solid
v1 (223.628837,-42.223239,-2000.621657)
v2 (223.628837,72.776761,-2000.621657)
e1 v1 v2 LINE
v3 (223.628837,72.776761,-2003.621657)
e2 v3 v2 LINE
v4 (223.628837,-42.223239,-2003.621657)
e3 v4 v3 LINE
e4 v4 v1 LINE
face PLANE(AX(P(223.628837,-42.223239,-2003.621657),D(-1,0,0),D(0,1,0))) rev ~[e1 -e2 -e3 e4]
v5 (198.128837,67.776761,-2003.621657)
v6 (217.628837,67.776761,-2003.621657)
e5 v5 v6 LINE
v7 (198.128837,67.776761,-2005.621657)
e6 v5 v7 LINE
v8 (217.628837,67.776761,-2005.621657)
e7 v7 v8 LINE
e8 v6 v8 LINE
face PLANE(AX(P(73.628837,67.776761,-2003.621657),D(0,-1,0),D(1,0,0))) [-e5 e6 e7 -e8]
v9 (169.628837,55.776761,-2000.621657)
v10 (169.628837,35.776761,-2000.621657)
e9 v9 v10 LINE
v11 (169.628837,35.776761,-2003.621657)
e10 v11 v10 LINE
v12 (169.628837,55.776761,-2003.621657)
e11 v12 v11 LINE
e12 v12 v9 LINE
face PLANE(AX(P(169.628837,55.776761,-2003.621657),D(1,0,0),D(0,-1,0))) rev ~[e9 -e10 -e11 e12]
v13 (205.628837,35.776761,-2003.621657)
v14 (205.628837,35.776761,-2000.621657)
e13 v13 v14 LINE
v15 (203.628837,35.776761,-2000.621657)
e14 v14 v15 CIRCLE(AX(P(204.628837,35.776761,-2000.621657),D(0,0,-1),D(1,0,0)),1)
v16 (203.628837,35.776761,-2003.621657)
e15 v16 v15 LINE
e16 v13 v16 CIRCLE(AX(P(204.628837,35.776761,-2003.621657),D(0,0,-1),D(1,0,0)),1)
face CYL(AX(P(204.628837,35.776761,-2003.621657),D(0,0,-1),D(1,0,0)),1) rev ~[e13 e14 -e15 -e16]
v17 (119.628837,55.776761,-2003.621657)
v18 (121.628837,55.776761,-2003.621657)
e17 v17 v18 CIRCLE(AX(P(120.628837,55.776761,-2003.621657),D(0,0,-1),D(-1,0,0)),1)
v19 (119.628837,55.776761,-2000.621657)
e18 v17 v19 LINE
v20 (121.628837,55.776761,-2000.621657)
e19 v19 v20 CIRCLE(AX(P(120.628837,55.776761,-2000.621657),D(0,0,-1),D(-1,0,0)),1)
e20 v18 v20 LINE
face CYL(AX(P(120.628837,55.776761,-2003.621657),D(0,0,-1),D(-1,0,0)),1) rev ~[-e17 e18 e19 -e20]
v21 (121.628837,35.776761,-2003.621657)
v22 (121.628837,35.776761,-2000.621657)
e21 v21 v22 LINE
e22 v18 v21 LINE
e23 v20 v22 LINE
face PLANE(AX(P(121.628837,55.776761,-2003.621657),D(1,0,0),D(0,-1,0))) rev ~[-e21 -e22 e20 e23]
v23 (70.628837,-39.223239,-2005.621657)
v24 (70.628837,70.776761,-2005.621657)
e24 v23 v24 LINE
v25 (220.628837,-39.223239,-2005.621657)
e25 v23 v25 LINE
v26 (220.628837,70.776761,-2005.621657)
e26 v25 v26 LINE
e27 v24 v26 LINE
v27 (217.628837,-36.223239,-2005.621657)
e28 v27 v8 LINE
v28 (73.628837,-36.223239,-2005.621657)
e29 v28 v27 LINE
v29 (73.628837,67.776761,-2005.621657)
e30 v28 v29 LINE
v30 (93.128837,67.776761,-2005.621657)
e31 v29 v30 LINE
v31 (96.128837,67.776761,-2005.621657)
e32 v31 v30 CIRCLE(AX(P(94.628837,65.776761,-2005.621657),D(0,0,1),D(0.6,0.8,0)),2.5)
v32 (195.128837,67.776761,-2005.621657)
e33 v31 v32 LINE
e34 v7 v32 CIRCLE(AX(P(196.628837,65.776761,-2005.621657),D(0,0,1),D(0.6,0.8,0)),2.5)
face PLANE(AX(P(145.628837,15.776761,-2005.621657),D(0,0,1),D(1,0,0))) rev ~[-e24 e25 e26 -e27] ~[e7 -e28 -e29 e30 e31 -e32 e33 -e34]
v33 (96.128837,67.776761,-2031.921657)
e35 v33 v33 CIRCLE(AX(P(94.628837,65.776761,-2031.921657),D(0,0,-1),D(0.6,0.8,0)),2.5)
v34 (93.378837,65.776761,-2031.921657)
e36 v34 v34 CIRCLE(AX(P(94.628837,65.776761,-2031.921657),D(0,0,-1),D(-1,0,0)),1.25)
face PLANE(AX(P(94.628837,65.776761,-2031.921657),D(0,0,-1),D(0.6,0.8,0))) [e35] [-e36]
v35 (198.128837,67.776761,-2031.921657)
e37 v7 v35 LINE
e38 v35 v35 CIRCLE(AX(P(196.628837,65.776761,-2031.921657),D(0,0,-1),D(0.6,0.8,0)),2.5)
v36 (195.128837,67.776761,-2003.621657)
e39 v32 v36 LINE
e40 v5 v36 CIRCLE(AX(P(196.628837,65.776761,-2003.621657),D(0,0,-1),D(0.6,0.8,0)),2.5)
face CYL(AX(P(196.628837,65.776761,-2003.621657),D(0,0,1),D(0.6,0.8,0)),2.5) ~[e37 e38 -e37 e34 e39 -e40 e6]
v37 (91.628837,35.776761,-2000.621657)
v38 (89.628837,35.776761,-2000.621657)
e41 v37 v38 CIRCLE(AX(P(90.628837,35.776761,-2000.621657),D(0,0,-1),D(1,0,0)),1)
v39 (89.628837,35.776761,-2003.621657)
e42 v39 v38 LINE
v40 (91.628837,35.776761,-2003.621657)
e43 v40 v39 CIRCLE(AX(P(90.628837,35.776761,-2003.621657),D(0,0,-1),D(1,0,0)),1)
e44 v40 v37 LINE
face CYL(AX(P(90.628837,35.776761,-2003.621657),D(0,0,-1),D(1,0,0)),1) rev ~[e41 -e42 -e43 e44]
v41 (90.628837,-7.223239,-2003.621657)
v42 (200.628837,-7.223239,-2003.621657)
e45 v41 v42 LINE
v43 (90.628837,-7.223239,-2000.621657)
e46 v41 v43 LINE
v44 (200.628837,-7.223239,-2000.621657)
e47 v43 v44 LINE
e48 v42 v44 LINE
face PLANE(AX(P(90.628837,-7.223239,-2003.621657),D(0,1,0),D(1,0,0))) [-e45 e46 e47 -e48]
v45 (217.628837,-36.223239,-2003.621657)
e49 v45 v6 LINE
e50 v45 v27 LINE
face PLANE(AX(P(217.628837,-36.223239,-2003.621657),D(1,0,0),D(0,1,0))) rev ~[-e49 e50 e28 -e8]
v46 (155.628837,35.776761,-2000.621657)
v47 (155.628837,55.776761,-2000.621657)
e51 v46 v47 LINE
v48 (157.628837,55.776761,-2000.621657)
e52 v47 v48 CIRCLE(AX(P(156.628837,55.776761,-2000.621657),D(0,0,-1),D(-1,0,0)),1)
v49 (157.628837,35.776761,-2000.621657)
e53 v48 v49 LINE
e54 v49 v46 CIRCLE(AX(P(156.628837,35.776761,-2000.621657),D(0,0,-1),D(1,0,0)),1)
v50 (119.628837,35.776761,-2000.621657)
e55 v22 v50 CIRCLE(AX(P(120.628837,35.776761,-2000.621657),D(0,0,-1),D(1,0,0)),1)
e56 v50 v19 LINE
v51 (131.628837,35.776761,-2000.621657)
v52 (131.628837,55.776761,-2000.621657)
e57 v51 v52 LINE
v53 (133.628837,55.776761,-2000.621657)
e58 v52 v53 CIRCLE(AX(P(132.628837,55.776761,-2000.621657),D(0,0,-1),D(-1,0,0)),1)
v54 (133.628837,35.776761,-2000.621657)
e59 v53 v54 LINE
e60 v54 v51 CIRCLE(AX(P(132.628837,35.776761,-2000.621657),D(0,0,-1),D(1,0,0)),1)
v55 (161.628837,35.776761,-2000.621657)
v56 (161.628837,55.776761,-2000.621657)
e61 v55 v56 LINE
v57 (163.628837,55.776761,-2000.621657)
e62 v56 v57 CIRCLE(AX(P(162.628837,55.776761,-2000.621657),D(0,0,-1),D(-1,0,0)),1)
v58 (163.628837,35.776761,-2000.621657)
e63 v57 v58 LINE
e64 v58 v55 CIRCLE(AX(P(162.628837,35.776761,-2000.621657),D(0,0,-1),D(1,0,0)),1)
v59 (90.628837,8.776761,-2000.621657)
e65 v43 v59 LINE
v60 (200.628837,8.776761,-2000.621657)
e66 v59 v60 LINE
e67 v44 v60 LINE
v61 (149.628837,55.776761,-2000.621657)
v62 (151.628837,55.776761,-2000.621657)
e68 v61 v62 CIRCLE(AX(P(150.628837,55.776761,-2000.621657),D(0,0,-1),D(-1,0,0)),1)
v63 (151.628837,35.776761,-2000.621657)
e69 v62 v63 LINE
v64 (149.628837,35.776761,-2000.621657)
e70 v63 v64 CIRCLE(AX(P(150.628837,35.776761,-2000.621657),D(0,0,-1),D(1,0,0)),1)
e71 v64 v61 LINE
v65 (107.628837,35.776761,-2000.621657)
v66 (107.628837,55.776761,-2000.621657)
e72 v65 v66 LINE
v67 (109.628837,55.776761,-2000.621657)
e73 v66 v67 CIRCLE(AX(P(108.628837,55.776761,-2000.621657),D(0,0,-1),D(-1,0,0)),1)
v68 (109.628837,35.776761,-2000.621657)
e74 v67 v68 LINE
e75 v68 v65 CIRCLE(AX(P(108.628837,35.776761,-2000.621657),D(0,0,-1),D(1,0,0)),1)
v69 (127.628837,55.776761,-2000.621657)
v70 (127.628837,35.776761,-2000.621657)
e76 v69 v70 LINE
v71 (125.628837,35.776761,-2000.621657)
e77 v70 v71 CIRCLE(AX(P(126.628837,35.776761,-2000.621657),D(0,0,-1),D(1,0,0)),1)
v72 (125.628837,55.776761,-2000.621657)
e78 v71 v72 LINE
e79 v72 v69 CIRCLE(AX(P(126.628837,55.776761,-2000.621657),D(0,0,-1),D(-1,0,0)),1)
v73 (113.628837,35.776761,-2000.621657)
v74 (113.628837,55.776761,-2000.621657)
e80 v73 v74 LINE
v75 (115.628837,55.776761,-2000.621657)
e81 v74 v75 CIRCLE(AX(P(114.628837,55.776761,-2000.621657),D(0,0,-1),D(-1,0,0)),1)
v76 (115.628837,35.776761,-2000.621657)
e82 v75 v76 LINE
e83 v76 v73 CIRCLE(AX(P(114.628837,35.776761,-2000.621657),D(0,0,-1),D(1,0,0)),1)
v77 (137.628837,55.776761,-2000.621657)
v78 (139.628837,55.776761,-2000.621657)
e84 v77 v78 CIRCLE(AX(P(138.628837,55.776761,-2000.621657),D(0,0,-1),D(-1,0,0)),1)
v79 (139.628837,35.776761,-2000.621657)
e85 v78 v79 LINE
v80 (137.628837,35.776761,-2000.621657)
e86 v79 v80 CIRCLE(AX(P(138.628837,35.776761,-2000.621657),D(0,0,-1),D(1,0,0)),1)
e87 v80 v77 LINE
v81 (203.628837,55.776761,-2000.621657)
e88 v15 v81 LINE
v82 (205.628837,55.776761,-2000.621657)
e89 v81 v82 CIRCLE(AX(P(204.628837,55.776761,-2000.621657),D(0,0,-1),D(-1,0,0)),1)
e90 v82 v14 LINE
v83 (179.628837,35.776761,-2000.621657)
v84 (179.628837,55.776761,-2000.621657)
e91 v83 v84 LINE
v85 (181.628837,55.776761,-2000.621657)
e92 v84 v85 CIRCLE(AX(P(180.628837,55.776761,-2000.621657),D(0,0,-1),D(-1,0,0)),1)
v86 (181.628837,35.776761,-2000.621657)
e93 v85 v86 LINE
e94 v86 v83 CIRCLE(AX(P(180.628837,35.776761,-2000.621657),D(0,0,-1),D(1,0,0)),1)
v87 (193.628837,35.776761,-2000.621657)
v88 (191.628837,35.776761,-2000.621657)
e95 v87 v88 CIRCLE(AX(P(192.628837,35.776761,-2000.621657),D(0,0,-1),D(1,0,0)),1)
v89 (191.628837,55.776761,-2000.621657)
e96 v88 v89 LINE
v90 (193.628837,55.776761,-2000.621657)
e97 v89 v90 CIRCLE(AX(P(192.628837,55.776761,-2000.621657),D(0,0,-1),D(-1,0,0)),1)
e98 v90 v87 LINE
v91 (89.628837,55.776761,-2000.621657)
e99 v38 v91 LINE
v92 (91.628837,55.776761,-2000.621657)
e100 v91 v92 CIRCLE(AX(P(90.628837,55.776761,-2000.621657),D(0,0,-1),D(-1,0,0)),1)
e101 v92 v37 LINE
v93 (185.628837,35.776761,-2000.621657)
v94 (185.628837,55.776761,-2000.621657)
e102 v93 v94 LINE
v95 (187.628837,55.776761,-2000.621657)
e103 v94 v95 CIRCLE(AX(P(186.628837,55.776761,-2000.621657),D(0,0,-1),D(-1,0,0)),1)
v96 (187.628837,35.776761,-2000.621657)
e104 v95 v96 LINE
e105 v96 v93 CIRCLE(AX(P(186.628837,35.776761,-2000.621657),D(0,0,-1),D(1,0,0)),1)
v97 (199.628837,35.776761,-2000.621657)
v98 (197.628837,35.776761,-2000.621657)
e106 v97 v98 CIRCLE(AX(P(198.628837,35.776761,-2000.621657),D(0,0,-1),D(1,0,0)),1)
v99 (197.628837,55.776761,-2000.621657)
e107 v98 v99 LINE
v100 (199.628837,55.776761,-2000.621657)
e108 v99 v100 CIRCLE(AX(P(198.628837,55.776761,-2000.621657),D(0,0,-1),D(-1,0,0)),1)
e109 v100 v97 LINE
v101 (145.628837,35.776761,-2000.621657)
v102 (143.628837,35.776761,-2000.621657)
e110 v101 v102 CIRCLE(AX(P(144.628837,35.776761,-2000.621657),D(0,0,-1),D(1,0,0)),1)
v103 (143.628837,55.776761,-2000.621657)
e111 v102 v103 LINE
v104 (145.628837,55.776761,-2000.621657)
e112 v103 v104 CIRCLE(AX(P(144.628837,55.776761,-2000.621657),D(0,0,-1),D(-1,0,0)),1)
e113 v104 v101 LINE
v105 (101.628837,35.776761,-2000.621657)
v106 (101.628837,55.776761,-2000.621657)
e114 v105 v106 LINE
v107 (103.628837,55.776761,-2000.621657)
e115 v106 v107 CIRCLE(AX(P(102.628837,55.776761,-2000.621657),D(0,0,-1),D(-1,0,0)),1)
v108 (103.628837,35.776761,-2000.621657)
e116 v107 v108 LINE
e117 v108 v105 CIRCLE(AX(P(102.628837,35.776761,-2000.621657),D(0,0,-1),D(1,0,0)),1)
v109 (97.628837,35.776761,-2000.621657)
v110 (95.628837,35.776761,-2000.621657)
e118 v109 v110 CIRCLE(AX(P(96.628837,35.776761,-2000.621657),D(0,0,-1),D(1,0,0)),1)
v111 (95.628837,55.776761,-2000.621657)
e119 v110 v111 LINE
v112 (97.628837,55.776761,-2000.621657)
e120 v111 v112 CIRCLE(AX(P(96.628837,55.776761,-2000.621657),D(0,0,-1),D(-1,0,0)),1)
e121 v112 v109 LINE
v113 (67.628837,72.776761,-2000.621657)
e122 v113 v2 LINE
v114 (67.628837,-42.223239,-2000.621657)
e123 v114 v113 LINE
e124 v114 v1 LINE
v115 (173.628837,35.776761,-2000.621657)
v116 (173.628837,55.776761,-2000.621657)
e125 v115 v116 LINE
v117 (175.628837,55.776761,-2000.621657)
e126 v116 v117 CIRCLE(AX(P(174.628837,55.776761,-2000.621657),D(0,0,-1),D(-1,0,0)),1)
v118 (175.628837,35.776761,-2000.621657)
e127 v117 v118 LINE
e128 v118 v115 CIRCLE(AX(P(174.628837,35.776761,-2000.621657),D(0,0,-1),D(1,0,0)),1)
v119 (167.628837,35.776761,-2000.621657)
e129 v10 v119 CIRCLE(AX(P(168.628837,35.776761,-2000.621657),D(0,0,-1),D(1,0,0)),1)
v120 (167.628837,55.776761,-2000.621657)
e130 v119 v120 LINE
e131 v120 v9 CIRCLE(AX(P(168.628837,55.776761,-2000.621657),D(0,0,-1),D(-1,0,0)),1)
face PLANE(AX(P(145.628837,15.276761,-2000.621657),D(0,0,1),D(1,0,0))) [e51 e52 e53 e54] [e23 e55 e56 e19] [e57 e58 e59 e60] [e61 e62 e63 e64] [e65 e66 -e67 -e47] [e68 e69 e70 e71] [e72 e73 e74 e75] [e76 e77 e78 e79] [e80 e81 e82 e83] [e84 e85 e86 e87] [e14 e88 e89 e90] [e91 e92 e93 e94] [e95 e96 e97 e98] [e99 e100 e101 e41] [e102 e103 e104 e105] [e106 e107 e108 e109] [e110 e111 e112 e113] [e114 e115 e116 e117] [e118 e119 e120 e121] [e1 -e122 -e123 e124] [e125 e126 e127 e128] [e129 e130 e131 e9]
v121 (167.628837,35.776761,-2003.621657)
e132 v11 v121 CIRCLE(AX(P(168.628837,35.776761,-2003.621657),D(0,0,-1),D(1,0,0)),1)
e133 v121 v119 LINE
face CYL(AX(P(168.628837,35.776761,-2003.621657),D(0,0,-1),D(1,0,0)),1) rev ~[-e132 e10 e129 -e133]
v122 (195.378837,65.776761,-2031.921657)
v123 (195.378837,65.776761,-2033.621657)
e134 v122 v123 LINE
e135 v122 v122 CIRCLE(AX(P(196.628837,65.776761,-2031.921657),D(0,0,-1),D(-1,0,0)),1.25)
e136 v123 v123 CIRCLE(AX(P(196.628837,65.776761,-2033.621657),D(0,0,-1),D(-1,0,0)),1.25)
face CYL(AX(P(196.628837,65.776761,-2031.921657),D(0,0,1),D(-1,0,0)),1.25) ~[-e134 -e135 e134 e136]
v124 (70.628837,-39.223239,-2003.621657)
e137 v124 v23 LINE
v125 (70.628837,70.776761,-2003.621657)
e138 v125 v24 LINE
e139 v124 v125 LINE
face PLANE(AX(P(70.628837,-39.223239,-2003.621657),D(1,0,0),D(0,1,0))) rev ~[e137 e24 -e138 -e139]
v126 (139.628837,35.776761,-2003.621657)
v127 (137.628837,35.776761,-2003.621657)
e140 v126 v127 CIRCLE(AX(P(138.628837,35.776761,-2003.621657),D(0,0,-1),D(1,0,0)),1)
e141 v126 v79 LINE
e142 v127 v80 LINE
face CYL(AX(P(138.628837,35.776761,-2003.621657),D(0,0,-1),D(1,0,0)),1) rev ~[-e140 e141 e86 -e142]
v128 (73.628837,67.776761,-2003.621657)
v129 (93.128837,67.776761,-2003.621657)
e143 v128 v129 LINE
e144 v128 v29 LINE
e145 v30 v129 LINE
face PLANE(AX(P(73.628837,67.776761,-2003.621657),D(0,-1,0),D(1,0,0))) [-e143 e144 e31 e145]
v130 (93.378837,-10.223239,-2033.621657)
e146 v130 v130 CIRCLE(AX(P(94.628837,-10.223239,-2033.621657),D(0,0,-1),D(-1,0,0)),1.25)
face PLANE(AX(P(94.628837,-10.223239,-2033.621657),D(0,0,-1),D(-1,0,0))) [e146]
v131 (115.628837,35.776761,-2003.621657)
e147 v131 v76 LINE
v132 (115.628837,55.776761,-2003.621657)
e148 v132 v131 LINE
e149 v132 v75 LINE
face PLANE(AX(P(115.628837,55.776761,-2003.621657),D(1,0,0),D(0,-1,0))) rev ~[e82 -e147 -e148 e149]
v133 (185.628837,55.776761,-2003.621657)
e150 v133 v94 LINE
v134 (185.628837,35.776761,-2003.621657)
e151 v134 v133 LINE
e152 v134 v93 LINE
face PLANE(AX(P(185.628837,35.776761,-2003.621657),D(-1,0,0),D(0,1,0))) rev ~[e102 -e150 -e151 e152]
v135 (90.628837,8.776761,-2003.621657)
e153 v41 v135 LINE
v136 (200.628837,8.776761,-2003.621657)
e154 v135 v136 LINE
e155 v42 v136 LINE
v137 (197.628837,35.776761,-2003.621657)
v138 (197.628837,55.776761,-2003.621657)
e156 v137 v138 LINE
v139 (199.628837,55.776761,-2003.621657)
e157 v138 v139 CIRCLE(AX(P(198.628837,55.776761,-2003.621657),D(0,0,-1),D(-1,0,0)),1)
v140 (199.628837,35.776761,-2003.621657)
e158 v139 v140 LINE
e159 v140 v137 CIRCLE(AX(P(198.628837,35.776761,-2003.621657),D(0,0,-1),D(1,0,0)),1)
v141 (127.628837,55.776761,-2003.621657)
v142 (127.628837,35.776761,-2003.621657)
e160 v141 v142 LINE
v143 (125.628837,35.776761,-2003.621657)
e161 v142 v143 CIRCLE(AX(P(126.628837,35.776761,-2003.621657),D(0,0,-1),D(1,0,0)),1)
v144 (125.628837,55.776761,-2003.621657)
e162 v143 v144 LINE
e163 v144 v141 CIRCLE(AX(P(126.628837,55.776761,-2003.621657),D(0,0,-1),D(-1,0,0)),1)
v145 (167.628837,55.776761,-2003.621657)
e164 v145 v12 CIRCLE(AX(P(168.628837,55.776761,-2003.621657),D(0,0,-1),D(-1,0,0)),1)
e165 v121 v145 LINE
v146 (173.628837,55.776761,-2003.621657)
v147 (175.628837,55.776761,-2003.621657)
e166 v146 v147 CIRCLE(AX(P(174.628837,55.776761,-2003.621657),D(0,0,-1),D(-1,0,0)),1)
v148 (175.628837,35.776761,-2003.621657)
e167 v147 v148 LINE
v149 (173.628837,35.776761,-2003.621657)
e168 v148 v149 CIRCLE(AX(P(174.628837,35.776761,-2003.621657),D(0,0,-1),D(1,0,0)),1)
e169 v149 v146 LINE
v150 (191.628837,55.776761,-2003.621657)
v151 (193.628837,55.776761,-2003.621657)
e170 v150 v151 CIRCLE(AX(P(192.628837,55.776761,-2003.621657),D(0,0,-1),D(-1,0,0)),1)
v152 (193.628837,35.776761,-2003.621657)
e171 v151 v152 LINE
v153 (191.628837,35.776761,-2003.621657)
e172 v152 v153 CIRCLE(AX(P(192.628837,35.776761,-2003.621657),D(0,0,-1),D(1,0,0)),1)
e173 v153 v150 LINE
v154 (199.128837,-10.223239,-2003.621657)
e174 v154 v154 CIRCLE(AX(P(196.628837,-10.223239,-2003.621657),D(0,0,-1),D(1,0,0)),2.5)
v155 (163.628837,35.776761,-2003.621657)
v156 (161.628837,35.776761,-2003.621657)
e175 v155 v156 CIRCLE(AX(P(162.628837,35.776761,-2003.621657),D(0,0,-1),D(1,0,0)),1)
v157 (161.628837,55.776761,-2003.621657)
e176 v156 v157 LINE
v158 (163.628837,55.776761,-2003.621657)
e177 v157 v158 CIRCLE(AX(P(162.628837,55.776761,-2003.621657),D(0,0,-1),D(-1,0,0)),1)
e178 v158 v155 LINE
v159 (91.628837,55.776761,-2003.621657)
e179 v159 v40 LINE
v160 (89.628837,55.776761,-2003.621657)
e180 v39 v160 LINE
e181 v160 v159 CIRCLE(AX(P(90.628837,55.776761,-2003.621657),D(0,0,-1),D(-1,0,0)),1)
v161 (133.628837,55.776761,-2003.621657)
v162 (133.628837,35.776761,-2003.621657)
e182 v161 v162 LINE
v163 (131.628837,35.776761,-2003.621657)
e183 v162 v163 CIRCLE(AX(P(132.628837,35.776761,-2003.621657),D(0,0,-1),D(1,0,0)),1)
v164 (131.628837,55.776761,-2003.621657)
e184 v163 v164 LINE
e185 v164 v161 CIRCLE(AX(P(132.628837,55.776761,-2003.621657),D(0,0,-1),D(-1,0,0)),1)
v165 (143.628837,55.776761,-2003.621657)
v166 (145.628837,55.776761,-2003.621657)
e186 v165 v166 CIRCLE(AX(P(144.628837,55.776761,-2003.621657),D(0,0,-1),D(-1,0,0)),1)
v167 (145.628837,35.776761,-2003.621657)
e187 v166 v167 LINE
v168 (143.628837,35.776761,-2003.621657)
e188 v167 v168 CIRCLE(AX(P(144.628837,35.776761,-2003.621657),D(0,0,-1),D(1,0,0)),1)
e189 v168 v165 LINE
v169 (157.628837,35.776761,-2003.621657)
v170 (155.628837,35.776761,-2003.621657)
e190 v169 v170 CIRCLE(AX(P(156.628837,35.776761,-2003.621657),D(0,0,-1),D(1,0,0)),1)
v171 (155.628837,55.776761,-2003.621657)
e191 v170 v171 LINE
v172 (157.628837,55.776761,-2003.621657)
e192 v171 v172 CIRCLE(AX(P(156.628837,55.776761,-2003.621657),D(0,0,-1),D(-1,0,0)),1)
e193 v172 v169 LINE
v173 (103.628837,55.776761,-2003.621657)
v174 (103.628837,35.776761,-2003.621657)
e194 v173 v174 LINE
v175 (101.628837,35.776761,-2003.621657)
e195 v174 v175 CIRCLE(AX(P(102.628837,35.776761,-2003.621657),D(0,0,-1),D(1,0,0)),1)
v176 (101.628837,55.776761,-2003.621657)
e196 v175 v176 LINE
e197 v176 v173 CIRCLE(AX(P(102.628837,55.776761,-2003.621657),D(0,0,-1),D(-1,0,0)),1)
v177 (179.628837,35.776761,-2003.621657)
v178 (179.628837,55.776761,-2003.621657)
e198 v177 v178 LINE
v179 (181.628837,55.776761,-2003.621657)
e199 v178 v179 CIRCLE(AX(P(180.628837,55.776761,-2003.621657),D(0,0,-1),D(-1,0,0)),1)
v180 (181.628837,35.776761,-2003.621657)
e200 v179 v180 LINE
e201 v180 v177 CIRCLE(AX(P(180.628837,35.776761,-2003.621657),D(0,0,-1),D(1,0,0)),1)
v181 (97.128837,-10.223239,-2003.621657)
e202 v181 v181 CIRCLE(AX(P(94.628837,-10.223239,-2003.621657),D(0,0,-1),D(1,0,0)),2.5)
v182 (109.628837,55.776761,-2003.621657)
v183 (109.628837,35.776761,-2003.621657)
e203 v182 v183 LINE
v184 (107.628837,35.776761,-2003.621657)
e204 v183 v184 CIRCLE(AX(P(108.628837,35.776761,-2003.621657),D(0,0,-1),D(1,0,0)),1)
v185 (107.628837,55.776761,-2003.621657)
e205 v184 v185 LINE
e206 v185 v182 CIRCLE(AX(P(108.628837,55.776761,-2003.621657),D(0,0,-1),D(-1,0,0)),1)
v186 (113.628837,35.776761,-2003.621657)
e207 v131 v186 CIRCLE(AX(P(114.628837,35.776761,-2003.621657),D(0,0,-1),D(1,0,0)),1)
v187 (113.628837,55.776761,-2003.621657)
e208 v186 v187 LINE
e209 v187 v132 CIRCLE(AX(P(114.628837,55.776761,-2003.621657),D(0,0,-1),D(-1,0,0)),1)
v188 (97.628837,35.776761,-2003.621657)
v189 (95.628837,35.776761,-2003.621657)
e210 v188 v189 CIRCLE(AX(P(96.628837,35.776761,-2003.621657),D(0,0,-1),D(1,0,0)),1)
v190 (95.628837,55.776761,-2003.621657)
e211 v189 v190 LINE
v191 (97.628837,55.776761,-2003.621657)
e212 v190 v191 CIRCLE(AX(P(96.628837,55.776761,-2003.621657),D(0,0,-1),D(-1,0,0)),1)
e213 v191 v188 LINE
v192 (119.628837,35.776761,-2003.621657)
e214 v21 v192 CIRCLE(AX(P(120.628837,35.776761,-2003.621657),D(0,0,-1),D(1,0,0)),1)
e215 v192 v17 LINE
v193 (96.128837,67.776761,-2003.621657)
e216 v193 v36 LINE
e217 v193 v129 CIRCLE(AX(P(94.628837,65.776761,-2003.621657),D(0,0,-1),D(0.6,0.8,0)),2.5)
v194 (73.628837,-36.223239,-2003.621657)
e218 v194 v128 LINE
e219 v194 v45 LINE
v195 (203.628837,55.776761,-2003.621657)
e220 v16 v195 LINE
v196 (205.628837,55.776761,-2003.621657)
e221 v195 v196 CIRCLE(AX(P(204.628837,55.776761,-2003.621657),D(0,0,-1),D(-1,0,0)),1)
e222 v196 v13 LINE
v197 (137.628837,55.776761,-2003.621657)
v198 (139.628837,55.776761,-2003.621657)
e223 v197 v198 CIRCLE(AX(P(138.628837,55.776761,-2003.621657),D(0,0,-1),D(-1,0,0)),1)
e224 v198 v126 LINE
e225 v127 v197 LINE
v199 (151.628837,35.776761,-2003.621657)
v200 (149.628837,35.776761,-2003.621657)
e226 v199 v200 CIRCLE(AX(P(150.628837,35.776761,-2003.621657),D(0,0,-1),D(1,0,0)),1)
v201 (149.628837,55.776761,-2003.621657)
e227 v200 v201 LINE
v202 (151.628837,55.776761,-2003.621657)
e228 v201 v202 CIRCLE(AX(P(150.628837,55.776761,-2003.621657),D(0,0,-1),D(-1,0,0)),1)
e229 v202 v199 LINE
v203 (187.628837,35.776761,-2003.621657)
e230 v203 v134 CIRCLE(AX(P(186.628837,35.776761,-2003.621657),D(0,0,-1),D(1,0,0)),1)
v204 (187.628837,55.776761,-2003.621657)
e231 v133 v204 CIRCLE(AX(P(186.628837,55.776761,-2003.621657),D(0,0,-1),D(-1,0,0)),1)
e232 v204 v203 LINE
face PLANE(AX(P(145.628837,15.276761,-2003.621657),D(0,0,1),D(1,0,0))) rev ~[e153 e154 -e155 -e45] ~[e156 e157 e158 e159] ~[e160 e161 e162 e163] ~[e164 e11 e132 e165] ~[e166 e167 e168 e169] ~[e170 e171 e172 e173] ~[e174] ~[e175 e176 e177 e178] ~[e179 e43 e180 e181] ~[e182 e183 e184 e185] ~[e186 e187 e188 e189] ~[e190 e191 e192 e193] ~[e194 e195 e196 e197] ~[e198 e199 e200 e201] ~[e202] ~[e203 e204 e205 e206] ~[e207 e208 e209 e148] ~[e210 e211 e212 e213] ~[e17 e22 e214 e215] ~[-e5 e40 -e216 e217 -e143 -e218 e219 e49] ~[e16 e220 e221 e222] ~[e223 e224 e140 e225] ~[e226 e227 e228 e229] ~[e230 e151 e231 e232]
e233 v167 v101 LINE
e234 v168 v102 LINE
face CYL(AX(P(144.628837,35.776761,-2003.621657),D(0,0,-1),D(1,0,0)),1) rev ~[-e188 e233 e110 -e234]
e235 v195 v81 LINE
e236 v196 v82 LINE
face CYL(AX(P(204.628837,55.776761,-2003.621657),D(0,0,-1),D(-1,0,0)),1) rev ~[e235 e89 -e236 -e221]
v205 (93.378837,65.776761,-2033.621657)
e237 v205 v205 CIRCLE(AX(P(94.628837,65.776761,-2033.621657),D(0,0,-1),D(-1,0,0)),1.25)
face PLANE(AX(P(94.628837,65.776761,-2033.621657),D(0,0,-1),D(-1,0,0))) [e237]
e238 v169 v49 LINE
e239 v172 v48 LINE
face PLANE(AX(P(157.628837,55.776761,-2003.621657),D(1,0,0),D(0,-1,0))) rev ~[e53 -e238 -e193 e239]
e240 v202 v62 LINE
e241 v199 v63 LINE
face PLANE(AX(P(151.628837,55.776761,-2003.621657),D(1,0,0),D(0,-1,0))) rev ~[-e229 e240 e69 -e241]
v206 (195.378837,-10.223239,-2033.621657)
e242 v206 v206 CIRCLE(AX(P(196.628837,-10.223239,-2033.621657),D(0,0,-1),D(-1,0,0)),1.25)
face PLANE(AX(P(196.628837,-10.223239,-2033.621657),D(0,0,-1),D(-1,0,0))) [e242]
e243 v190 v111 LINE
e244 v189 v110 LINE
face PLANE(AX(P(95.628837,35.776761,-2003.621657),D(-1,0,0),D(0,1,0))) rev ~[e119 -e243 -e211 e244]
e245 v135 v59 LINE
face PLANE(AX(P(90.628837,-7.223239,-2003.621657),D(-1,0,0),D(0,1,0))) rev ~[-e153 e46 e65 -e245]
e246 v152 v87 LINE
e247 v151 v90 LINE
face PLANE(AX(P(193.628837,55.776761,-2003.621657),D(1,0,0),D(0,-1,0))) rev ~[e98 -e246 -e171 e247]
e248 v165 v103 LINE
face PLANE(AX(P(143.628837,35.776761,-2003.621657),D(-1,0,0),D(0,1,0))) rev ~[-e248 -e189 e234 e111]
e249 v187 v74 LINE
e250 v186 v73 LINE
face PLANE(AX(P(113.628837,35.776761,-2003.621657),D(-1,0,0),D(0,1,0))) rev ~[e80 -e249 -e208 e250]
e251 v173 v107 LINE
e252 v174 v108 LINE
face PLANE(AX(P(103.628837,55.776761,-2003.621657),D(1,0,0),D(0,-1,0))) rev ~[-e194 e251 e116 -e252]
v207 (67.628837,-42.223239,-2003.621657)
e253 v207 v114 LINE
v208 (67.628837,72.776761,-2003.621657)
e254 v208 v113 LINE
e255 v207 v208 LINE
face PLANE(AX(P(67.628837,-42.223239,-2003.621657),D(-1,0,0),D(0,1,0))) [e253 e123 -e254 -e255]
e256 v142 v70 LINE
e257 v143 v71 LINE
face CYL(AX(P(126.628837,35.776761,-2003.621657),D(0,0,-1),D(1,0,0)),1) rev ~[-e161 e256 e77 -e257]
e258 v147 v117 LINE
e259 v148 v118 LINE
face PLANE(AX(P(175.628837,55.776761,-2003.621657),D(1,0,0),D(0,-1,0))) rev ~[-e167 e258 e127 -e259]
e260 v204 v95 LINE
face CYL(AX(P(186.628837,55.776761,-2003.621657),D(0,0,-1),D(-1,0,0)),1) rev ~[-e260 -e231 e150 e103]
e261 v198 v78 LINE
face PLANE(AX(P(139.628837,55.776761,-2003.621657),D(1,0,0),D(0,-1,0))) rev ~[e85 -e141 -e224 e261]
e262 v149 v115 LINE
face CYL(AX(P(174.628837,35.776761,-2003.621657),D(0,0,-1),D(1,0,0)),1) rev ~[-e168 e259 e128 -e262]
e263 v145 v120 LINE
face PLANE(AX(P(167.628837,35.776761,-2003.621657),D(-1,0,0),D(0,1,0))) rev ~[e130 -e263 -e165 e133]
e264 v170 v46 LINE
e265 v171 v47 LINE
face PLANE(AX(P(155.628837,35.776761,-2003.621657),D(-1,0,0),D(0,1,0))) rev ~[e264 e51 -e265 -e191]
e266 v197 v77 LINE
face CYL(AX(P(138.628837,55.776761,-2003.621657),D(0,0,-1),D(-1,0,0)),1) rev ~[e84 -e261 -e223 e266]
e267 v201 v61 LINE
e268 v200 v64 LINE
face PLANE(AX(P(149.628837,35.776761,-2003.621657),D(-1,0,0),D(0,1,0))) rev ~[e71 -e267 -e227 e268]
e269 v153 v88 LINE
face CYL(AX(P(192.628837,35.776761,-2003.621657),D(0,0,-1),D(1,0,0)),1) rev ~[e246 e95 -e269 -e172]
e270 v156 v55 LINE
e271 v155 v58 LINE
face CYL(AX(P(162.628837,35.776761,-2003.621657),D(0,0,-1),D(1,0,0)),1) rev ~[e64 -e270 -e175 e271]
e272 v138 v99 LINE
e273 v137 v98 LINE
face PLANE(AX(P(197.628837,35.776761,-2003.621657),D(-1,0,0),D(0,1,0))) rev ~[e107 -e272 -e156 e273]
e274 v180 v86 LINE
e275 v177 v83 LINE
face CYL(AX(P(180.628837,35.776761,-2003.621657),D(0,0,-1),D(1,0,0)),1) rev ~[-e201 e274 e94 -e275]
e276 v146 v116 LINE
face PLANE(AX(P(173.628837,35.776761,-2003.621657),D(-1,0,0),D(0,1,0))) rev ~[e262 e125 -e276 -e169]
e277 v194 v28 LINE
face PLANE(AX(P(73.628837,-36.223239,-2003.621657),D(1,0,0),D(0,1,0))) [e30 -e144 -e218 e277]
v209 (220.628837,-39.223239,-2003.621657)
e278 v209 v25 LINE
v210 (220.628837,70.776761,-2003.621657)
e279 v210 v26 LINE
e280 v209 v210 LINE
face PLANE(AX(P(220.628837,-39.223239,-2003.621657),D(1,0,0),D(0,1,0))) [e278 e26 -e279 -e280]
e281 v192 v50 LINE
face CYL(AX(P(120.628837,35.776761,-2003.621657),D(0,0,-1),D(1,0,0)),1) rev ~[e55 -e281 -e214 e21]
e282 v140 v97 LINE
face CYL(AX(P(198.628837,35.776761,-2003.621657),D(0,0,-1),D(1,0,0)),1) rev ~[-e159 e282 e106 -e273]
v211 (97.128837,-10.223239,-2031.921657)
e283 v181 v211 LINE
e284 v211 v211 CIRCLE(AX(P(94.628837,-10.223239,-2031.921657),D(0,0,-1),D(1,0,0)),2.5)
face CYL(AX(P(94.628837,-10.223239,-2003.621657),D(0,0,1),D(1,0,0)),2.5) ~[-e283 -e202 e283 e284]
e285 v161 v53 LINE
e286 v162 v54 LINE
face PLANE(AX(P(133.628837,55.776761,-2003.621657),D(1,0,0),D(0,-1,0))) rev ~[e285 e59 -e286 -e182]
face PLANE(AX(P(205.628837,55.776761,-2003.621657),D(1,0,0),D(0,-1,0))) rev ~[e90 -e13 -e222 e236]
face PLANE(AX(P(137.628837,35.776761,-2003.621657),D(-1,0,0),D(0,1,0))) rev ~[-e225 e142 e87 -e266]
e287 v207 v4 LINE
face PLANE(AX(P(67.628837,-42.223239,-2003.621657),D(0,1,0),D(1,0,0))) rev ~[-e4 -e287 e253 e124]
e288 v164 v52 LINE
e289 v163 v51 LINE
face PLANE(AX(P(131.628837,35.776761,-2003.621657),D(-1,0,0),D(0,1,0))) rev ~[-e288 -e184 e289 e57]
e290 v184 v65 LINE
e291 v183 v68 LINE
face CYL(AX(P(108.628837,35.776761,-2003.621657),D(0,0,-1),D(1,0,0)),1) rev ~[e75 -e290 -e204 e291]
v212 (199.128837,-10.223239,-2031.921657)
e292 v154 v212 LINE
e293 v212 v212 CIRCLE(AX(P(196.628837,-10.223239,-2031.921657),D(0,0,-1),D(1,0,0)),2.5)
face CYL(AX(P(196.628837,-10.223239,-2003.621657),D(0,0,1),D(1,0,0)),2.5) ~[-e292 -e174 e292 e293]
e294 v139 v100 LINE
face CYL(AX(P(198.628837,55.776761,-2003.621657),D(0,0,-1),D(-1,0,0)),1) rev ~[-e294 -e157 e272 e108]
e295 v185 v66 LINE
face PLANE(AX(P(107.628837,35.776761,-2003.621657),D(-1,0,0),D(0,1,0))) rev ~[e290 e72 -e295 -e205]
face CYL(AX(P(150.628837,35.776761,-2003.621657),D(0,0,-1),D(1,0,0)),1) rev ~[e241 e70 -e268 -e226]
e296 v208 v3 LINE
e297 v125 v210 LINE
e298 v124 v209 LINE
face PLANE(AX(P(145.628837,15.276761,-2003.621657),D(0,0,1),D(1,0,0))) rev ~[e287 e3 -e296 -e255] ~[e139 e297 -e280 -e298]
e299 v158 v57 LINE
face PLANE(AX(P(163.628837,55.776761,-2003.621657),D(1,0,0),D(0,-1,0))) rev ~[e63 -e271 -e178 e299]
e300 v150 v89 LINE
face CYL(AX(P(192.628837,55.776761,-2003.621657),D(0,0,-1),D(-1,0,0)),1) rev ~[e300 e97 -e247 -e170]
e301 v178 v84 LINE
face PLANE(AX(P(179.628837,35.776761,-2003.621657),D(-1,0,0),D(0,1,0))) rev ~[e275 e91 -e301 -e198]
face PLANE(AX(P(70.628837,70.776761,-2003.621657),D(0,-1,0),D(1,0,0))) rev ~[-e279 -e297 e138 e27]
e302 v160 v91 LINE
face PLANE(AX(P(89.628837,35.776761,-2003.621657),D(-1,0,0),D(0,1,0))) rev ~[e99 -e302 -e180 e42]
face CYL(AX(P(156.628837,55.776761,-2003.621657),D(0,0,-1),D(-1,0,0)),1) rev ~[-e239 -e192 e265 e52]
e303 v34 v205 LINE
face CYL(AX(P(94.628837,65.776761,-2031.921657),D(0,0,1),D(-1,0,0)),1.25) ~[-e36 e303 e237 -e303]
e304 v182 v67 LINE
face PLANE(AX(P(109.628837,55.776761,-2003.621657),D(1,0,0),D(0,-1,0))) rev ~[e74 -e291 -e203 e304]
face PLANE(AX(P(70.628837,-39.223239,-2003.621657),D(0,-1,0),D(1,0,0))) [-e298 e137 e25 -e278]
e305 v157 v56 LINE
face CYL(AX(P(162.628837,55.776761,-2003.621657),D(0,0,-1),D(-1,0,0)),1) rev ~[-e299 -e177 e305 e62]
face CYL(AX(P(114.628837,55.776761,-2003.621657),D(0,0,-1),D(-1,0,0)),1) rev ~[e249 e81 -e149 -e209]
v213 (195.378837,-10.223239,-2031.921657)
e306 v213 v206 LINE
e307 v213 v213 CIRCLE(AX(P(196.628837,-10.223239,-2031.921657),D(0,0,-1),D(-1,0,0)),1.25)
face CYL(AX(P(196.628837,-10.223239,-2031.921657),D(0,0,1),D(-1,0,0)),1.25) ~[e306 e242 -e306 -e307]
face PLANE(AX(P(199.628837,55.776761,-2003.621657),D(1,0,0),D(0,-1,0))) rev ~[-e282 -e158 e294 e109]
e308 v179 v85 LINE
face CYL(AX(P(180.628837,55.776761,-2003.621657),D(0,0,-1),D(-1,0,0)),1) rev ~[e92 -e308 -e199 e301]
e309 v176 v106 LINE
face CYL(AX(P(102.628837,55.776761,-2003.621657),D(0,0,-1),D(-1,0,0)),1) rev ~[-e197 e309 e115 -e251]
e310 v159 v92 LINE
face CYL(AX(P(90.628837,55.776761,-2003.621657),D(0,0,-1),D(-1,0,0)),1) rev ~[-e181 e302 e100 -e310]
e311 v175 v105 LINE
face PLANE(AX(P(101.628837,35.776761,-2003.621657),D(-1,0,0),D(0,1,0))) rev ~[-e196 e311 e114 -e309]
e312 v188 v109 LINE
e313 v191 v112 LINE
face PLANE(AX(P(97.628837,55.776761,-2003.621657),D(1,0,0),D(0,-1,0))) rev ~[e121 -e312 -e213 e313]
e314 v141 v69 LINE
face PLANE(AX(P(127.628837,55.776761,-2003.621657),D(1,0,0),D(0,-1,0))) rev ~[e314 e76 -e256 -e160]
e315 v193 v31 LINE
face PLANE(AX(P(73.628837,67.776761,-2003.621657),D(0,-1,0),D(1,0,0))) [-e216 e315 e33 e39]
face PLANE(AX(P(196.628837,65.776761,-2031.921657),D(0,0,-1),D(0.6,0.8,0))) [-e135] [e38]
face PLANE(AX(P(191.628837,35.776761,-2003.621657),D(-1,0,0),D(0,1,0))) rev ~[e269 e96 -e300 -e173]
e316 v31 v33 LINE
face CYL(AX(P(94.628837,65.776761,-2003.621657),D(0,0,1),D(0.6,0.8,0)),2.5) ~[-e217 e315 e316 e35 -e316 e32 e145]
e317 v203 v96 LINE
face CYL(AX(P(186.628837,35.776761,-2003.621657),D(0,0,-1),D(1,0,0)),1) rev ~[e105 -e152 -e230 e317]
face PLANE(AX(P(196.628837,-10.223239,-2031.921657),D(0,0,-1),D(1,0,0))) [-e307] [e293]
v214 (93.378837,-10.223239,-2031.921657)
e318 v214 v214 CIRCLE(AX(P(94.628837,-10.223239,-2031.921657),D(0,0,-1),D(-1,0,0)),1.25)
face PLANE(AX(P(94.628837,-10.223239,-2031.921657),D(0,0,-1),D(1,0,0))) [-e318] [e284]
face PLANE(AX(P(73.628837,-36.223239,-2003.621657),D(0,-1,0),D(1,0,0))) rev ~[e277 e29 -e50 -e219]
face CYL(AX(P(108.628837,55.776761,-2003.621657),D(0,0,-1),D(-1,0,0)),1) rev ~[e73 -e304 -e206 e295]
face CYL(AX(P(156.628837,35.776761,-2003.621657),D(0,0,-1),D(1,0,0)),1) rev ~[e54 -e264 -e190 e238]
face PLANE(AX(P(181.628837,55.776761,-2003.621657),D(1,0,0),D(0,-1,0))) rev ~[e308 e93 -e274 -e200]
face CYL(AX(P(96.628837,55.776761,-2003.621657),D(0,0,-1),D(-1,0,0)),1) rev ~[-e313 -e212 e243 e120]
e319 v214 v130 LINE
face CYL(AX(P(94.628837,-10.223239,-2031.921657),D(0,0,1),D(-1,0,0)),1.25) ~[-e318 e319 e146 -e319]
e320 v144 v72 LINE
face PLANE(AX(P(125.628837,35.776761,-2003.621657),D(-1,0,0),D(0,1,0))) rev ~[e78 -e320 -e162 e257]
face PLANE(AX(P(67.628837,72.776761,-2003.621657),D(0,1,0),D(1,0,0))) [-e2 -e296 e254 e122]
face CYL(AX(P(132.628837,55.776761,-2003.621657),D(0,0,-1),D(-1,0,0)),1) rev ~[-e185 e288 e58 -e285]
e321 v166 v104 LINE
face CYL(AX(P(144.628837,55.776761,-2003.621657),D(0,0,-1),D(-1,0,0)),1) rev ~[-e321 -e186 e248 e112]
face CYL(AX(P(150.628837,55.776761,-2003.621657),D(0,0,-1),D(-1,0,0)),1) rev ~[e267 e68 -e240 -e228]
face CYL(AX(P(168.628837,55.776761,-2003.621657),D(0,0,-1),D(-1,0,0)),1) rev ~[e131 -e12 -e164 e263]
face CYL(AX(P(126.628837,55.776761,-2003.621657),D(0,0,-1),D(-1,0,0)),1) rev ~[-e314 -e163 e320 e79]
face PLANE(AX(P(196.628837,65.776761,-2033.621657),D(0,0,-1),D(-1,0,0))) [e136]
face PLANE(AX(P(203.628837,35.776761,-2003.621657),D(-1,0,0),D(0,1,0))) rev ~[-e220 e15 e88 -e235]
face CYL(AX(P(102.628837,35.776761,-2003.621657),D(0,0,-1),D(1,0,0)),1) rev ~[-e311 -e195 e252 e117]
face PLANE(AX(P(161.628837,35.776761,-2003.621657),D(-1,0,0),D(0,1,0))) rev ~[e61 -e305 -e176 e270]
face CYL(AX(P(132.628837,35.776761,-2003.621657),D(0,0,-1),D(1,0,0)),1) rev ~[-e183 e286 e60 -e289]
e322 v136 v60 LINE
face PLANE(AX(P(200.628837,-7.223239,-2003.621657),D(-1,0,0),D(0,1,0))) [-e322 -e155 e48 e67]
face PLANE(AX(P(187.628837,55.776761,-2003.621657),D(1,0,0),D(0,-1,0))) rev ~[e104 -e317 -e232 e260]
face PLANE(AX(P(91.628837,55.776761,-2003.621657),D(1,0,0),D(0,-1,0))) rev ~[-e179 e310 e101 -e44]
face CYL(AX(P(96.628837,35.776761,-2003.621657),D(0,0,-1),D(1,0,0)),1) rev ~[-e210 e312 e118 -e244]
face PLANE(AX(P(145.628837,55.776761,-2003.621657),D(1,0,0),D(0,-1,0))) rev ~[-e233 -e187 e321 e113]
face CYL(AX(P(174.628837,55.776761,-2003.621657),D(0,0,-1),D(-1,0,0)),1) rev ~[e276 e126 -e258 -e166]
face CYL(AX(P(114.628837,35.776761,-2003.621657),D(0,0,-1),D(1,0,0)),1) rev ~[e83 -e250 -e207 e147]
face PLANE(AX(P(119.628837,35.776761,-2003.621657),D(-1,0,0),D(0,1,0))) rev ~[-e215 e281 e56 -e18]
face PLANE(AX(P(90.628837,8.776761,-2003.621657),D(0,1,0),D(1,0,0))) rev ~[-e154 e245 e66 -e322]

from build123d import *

# Parameters (mm, degrees)
SKETCH_2_W      = 156
SKETCH_2_H      = 115
SKETCH_2_W_2    = 110
SKETCH_2_H_2    = 16
EXTRUDE_1_DEPTH = 3
SKETCH_1_W      = 150
SKETCH_1_H      = 110
SKETCH_1_W_2    = 144
SKETCH_1_H_2    = 104
EXTRUDE_2_DEPTH = 2
SKETCH_3_R      = 2.5
EXTRUDE_3_DEPTH = 28.3
SKETCH_5_R      = 1.25
EXTRUDE_4_DEPTH = 1.7


with BuildPart() as part:
    # 草图2 → 凸台-拉伸1 (new body)
    with BuildSketch(Plane.XY.offset(-2003.6216566)):
        with Locations((145.628836913, 15.276761468)):
            Rectangle(SKETCH_2_W, SKETCH_2_H)
        with Locations((145.628836913, 0.776761468)):
            Rectangle(SKETCH_2_W_2, SKETCH_2_H_2, mode=Mode.SUBTRACT)
        with BuildLine():
            Line((89.628836913, 35.776761468), (89.628836913, 55.776761468))
            ThreePointArc((89.628836913, 55.776761468), (90.628836913, 56.776761468), (91.628836913, 55.776761468))
            Line((91.628836913, 55.776761468), (91.628836913, 35.776761468))
            ThreePointArc((91.628836913, 35.776761468), (90.628836913, 34.776761468), (89.628836913, 35.776761468))
        make_face(mode=Mode.SUBTRACT)
        with BuildLine():
            Line((95.628836913, 35.776761468), (95.628836913, 55.776761468))
            ThreePointArc((95.628836913, 55.776761468), (96.628836913, 56.776761468), (97.628836913, 55.776761468))
            Line((97.628836913, 55.776761468), (97.628836913, 35.776761468))
            ThreePointArc((97.628836913, 35.776761468), (96.628836913, 34.776761468), (95.628836913, 35.776761468))
        make_face(mode=Mode.SUBTRACT)
        with BuildLine():
            Line((101.628836913, 35.776761468), (101.628836913, 55.776761468))
            ThreePointArc((101.628836913, 55.776761468), (102.628836913, 56.776761468), (103.628836913, 55.776761468))
            Line((103.628836913, 55.776761468), (103.628836913, 35.776761468))
            ThreePointArc((103.628836913, 35.776761468), (102.628836913, 34.776761468), (101.628836913, 35.776761468))
        make_face(mode=Mode.SUBTRACT)
        with BuildLine():
            Line((107.628836913, 35.776761468), (107.628836913, 55.776761468))
            ThreePointArc((107.628836913, 55.776761468), (108.628836913, 56.776761468), (109.628836913, 55.776761468))
            Line((109.628836913, 55.776761468), (109.628836913, 35.776761468))
            ThreePointArc((109.628836913, 35.776761468), (108.628836913, 34.776761468), (107.628836913, 35.776761468))
        make_face(mode=Mode.SUBTRACT)
        with BuildLine():
            Line((113.628836913, 35.776761468), (113.628836913, 55.776761468))
            ThreePointArc((113.628836913, 55.776761468), (114.628836913, 56.776761468), (115.628836913, 55.776761468))
            Line((115.628836913, 55.776761468), (115.628836913, 35.776761468))
            ThreePointArc((115.628836913, 35.776761468), (114.628836913, 34.776761468), (113.628836913, 35.776761468))
        make_face(mode=Mode.SUBTRACT)
        with BuildLine():
            Line((119.628836913, 35.776761468), (119.628836913, 55.776761468))
            ThreePointArc((119.628836913, 55.776761468), (120.628836913, 56.776761468), (121.628836913, 55.776761468))
            Line((121.628836913, 55.776761468), (121.628836913, 35.776761468))
            ThreePointArc((121.628836913, 35.776761468), (120.628836913, 34.776761468), (119.628836913, 35.776761468))
        make_face(mode=Mode.SUBTRACT)
        with BuildLine():
            Line((125.628836913, 35.776761468), (125.628836913, 55.776761468))
            ThreePointArc((125.628836913, 55.776761468), (126.628836913, 56.776761468), (127.628836913, 55.776761468))
            Line((127.628836913, 55.776761468), (127.628836913, 35.776761468))
            ThreePointArc((127.628836913, 35.776761468), (126.628836913, 34.776761468), (125.628836913, 35.776761468))
        make_face(mode=Mode.SUBTRACT)
        with BuildLine():
            Line((131.628836913, 35.776761468), (131.628836913, 55.776761468))
            ThreePointArc((131.628836913, 55.776761468), (132.628836913, 56.776761468), (133.628836913, 55.776761468))
            Line((133.628836913, 55.776761468), (133.628836913, 35.776761468))
            ThreePointArc((133.628836913, 35.776761468), (132.628836913, 34.776761468), (131.628836913, 35.776761468))
        make_face(mode=Mode.SUBTRACT)
        with BuildLine():
            Line((137.628836913, 35.776761468), (137.628836913, 55.776761468))
            ThreePointArc((137.628836913, 55.776761468), (138.628836913, 56.776761468), (139.628836913, 55.776761468))
            Line((139.628836913, 55.776761468), (139.628836913, 35.776761468))
            ThreePointArc((139.628836913, 35.776761468), (138.628836913, 34.776761468), (137.628836913, 35.776761468))
        make_face(mode=Mode.SUBTRACT)
        with BuildLine():
            Line((143.628836913, 35.776761468), (143.628836913, 55.776761468))
            ThreePointArc((143.628836913, 55.776761468), (144.628836913, 56.776761468), (145.628836913, 55.776761468))
            Line((145.628836913, 55.776761468), (145.628836913, 35.776761468))
            ThreePointArc((145.628836913, 35.776761468), (144.628836913, 34.776761468), (143.628836913, 35.776761468))
        make_face(mode=Mode.SUBTRACT)
        with BuildLine():
            Line((149.628836913, 35.776761468), (149.628836913, 55.776761468))
            ThreePointArc((149.628836913, 55.776761468), (150.628836913, 56.776761468), (151.628836913, 55.776761468))
            Line((151.628836913, 55.776761468), (151.628836913, 35.776761468))
            ThreePointArc((151.628836913, 35.776761468), (150.628836913, 34.776761468), (149.628836913, 35.776761468))
        make_face(mode=Mode.SUBTRACT)
        with BuildLine():
            Line((155.628836913, 35.776761468), (155.628836913, 55.776761468))
            ThreePointArc((155.628836913, 55.776761468), (156.628836913, 56.776761468), (157.628836913, 55.776761468))
            Line((157.628836913, 55.776761468), (157.628836913, 35.776761468))
            ThreePointArc((157.628836913, 35.776761468), (156.628836913, 34.776761468), (155.628836913, 35.776761468))
        make_face(mode=Mode.SUBTRACT)
        with BuildLine():
            Line((161.628836913, 35.776761468), (161.628836913, 55.776761468))
            ThreePointArc((161.628836913, 55.776761468), (162.628836913, 56.776761468), (163.628836913, 55.776761468))
            Line((163.628836913, 55.776761468), (163.628836913, 35.776761468))
            ThreePointArc((163.628836913, 35.776761468), (162.628836913, 34.776761468), (161.628836913, 35.776761468))
        make_face(mode=Mode.SUBTRACT)
        with BuildLine():
            Line((167.628836913, 35.776761468), (167.628836913, 55.776761468))
            ThreePointArc((167.628836913, 55.776761468), (168.628836913, 56.776761468), (169.628836913, 55.776761468))
            Line((169.628836913, 55.776761468), (169.628836913, 35.776761468))
            ThreePointArc((169.628836913, 35.776761468), (168.628836913, 34.776761468), (167.628836913, 35.776761468))
        make_face(mode=Mode.SUBTRACT)
        with BuildLine():
            Line((173.628836913, 35.776761468), (173.628836913, 55.776761468))
            ThreePointArc((173.628836913, 55.776761468), (174.628836913, 56.776761468), (175.628836913, 55.776761468))
            Line((175.628836913, 55.776761468), (175.628836913, 35.776761468))
            ThreePointArc((175.628836913, 35.776761468), (174.628836913, 34.776761468), (173.628836913, 35.776761468))
        make_face(mode=Mode.SUBTRACT)
        with BuildLine():
            Line((179.628836913, 35.776761468), (179.628836913, 55.776761468))
            ThreePointArc((179.628836913, 55.776761468), (180.628836913, 56.776761468), (181.628836913, 55.776761468))
            Line((181.628836913, 55.776761468), (181.628836913, 35.776761468))
            ThreePointArc((181.628836913, 35.776761468), (180.628836913, 34.776761468), (179.628836913, 35.776761468))
        make_face(mode=Mode.SUBTRACT)
        with BuildLine():
            Line((185.628836913, 35.776761468), (185.628836913, 55.776761468))
            ThreePointArc((185.628836913, 55.776761468), (186.628836913, 56.776761468), (187.628836913, 55.776761468))
            Line((187.628836913, 55.776761468), (187.628836913, 35.776761468))
            ThreePointArc((187.628836913, 35.776761468), (186.628836913, 34.776761468), (185.628836913, 35.776761468))
        make_face(mode=Mode.SUBTRACT)
        with BuildLine():
            Line((191.628836913, 35.776761468), (191.628836913, 55.776761468))
            ThreePointArc((191.628836913, 55.776761468), (192.628836913, 56.776761468), (193.628836913, 55.776761468))
            Line((193.628836913, 55.776761468), (193.628836913, 35.776761468))
            ThreePointArc((193.628836913, 35.776761468), (192.628836913, 34.776761468), (191.628836913, 35.776761468))
        make_face(mode=Mode.SUBTRACT)
        with BuildLine():
            Line((197.628836913, 35.776761468), (197.628836913, 55.776761468))
            ThreePointArc((197.628836913, 55.776761468), (198.628836913, 56.776761468), (199.628836913, 55.776761468))
            Line((199.628836913, 55.776761468), (199.628836913, 35.776761468))
            ThreePointArc((199.628836913, 35.776761468), (198.628836913, 34.776761468), (197.628836913, 35.776761468))
        make_face(mode=Mode.SUBTRACT)
        with BuildLine():
            Line((203.628836913, 35.776761468), (203.628836913, 55.776761468))
            ThreePointArc((203.628836913, 55.776761468), (204.628836913, 56.776761468), (205.628836913, 55.776761468))
            Line((205.628836913, 55.776761468), (205.628836913, 35.776761468))
            ThreePointArc((205.628836913, 35.776761468), (204.628836913, 34.776761468), (203.628836913, 35.776761468))
        make_face(mode=Mode.SUBTRACT)
    extrude(amount=EXTRUDE_1_DEPTH)

    # 草图1 → 凸台-拉伸2 (add)
    with BuildSketch(Plane.XY.offset(-2003.6216566)):
        with Locations((145.628836913, 15.776761468)):
            Rectangle(SKETCH_1_W, SKETCH_1_H)
        with Locations((145.628836913, 15.776761468)):
            Rectangle(SKETCH_1_W_2, SKETCH_1_H_2, mode=Mode.SUBTRACT)
    extrude(amount=-EXTRUDE_2_DEPTH)

    # 草图3 → 凸台-拉伸3 (add)
    with BuildSketch(Plane(origin=(0, 0, -2003.6216566), x_dir=(-1, 0, 0), z_dir=(0, 0, -1))):
        with Locations(Location((-196.628836913, 65.776761468, 0), (0, 0, 126.869897646))):
            Circle(SKETCH_3_R)
        with Locations(Location((-94.628836913, 65.776761468, 0), (0, 0, 126.869897646))):
            Circle(SKETCH_3_R)
        with Locations(Location((-94.628836913, -10.223238532, 0), (0, 0, 180))):
            Circle(SKETCH_3_R)
        with Locations(Location((-196.628836913, -10.223238532, 0), (0, 0, 180))):
            Circle(SKETCH_3_R)
    extrude(amount=EXTRUDE_3_DEPTH)

    # 草图5 → 凸台-拉伸4 (add)
    with BuildSketch(Plane(origin=(0, 0, -2031.9216566), x_dir=(-1, 0, 0), z_dir=(0, 0, -1))):
        with Locations((-196.628836913, 65.776761468)):
            Circle(SKETCH_5_R)
        with Locations((-94.628836913, 65.776761468)):
            Circle(SKETCH_5_R)
        with Locations((-94.628836913, -10.223238532)):
            Circle(SKETCH_5_R)
        with Locations((-196.628836913, -10.223238532)):
            Circle(SKETCH_5_R)
    extrude(amount=EXTRUDE_4_DEPTH)


solid = part.part
